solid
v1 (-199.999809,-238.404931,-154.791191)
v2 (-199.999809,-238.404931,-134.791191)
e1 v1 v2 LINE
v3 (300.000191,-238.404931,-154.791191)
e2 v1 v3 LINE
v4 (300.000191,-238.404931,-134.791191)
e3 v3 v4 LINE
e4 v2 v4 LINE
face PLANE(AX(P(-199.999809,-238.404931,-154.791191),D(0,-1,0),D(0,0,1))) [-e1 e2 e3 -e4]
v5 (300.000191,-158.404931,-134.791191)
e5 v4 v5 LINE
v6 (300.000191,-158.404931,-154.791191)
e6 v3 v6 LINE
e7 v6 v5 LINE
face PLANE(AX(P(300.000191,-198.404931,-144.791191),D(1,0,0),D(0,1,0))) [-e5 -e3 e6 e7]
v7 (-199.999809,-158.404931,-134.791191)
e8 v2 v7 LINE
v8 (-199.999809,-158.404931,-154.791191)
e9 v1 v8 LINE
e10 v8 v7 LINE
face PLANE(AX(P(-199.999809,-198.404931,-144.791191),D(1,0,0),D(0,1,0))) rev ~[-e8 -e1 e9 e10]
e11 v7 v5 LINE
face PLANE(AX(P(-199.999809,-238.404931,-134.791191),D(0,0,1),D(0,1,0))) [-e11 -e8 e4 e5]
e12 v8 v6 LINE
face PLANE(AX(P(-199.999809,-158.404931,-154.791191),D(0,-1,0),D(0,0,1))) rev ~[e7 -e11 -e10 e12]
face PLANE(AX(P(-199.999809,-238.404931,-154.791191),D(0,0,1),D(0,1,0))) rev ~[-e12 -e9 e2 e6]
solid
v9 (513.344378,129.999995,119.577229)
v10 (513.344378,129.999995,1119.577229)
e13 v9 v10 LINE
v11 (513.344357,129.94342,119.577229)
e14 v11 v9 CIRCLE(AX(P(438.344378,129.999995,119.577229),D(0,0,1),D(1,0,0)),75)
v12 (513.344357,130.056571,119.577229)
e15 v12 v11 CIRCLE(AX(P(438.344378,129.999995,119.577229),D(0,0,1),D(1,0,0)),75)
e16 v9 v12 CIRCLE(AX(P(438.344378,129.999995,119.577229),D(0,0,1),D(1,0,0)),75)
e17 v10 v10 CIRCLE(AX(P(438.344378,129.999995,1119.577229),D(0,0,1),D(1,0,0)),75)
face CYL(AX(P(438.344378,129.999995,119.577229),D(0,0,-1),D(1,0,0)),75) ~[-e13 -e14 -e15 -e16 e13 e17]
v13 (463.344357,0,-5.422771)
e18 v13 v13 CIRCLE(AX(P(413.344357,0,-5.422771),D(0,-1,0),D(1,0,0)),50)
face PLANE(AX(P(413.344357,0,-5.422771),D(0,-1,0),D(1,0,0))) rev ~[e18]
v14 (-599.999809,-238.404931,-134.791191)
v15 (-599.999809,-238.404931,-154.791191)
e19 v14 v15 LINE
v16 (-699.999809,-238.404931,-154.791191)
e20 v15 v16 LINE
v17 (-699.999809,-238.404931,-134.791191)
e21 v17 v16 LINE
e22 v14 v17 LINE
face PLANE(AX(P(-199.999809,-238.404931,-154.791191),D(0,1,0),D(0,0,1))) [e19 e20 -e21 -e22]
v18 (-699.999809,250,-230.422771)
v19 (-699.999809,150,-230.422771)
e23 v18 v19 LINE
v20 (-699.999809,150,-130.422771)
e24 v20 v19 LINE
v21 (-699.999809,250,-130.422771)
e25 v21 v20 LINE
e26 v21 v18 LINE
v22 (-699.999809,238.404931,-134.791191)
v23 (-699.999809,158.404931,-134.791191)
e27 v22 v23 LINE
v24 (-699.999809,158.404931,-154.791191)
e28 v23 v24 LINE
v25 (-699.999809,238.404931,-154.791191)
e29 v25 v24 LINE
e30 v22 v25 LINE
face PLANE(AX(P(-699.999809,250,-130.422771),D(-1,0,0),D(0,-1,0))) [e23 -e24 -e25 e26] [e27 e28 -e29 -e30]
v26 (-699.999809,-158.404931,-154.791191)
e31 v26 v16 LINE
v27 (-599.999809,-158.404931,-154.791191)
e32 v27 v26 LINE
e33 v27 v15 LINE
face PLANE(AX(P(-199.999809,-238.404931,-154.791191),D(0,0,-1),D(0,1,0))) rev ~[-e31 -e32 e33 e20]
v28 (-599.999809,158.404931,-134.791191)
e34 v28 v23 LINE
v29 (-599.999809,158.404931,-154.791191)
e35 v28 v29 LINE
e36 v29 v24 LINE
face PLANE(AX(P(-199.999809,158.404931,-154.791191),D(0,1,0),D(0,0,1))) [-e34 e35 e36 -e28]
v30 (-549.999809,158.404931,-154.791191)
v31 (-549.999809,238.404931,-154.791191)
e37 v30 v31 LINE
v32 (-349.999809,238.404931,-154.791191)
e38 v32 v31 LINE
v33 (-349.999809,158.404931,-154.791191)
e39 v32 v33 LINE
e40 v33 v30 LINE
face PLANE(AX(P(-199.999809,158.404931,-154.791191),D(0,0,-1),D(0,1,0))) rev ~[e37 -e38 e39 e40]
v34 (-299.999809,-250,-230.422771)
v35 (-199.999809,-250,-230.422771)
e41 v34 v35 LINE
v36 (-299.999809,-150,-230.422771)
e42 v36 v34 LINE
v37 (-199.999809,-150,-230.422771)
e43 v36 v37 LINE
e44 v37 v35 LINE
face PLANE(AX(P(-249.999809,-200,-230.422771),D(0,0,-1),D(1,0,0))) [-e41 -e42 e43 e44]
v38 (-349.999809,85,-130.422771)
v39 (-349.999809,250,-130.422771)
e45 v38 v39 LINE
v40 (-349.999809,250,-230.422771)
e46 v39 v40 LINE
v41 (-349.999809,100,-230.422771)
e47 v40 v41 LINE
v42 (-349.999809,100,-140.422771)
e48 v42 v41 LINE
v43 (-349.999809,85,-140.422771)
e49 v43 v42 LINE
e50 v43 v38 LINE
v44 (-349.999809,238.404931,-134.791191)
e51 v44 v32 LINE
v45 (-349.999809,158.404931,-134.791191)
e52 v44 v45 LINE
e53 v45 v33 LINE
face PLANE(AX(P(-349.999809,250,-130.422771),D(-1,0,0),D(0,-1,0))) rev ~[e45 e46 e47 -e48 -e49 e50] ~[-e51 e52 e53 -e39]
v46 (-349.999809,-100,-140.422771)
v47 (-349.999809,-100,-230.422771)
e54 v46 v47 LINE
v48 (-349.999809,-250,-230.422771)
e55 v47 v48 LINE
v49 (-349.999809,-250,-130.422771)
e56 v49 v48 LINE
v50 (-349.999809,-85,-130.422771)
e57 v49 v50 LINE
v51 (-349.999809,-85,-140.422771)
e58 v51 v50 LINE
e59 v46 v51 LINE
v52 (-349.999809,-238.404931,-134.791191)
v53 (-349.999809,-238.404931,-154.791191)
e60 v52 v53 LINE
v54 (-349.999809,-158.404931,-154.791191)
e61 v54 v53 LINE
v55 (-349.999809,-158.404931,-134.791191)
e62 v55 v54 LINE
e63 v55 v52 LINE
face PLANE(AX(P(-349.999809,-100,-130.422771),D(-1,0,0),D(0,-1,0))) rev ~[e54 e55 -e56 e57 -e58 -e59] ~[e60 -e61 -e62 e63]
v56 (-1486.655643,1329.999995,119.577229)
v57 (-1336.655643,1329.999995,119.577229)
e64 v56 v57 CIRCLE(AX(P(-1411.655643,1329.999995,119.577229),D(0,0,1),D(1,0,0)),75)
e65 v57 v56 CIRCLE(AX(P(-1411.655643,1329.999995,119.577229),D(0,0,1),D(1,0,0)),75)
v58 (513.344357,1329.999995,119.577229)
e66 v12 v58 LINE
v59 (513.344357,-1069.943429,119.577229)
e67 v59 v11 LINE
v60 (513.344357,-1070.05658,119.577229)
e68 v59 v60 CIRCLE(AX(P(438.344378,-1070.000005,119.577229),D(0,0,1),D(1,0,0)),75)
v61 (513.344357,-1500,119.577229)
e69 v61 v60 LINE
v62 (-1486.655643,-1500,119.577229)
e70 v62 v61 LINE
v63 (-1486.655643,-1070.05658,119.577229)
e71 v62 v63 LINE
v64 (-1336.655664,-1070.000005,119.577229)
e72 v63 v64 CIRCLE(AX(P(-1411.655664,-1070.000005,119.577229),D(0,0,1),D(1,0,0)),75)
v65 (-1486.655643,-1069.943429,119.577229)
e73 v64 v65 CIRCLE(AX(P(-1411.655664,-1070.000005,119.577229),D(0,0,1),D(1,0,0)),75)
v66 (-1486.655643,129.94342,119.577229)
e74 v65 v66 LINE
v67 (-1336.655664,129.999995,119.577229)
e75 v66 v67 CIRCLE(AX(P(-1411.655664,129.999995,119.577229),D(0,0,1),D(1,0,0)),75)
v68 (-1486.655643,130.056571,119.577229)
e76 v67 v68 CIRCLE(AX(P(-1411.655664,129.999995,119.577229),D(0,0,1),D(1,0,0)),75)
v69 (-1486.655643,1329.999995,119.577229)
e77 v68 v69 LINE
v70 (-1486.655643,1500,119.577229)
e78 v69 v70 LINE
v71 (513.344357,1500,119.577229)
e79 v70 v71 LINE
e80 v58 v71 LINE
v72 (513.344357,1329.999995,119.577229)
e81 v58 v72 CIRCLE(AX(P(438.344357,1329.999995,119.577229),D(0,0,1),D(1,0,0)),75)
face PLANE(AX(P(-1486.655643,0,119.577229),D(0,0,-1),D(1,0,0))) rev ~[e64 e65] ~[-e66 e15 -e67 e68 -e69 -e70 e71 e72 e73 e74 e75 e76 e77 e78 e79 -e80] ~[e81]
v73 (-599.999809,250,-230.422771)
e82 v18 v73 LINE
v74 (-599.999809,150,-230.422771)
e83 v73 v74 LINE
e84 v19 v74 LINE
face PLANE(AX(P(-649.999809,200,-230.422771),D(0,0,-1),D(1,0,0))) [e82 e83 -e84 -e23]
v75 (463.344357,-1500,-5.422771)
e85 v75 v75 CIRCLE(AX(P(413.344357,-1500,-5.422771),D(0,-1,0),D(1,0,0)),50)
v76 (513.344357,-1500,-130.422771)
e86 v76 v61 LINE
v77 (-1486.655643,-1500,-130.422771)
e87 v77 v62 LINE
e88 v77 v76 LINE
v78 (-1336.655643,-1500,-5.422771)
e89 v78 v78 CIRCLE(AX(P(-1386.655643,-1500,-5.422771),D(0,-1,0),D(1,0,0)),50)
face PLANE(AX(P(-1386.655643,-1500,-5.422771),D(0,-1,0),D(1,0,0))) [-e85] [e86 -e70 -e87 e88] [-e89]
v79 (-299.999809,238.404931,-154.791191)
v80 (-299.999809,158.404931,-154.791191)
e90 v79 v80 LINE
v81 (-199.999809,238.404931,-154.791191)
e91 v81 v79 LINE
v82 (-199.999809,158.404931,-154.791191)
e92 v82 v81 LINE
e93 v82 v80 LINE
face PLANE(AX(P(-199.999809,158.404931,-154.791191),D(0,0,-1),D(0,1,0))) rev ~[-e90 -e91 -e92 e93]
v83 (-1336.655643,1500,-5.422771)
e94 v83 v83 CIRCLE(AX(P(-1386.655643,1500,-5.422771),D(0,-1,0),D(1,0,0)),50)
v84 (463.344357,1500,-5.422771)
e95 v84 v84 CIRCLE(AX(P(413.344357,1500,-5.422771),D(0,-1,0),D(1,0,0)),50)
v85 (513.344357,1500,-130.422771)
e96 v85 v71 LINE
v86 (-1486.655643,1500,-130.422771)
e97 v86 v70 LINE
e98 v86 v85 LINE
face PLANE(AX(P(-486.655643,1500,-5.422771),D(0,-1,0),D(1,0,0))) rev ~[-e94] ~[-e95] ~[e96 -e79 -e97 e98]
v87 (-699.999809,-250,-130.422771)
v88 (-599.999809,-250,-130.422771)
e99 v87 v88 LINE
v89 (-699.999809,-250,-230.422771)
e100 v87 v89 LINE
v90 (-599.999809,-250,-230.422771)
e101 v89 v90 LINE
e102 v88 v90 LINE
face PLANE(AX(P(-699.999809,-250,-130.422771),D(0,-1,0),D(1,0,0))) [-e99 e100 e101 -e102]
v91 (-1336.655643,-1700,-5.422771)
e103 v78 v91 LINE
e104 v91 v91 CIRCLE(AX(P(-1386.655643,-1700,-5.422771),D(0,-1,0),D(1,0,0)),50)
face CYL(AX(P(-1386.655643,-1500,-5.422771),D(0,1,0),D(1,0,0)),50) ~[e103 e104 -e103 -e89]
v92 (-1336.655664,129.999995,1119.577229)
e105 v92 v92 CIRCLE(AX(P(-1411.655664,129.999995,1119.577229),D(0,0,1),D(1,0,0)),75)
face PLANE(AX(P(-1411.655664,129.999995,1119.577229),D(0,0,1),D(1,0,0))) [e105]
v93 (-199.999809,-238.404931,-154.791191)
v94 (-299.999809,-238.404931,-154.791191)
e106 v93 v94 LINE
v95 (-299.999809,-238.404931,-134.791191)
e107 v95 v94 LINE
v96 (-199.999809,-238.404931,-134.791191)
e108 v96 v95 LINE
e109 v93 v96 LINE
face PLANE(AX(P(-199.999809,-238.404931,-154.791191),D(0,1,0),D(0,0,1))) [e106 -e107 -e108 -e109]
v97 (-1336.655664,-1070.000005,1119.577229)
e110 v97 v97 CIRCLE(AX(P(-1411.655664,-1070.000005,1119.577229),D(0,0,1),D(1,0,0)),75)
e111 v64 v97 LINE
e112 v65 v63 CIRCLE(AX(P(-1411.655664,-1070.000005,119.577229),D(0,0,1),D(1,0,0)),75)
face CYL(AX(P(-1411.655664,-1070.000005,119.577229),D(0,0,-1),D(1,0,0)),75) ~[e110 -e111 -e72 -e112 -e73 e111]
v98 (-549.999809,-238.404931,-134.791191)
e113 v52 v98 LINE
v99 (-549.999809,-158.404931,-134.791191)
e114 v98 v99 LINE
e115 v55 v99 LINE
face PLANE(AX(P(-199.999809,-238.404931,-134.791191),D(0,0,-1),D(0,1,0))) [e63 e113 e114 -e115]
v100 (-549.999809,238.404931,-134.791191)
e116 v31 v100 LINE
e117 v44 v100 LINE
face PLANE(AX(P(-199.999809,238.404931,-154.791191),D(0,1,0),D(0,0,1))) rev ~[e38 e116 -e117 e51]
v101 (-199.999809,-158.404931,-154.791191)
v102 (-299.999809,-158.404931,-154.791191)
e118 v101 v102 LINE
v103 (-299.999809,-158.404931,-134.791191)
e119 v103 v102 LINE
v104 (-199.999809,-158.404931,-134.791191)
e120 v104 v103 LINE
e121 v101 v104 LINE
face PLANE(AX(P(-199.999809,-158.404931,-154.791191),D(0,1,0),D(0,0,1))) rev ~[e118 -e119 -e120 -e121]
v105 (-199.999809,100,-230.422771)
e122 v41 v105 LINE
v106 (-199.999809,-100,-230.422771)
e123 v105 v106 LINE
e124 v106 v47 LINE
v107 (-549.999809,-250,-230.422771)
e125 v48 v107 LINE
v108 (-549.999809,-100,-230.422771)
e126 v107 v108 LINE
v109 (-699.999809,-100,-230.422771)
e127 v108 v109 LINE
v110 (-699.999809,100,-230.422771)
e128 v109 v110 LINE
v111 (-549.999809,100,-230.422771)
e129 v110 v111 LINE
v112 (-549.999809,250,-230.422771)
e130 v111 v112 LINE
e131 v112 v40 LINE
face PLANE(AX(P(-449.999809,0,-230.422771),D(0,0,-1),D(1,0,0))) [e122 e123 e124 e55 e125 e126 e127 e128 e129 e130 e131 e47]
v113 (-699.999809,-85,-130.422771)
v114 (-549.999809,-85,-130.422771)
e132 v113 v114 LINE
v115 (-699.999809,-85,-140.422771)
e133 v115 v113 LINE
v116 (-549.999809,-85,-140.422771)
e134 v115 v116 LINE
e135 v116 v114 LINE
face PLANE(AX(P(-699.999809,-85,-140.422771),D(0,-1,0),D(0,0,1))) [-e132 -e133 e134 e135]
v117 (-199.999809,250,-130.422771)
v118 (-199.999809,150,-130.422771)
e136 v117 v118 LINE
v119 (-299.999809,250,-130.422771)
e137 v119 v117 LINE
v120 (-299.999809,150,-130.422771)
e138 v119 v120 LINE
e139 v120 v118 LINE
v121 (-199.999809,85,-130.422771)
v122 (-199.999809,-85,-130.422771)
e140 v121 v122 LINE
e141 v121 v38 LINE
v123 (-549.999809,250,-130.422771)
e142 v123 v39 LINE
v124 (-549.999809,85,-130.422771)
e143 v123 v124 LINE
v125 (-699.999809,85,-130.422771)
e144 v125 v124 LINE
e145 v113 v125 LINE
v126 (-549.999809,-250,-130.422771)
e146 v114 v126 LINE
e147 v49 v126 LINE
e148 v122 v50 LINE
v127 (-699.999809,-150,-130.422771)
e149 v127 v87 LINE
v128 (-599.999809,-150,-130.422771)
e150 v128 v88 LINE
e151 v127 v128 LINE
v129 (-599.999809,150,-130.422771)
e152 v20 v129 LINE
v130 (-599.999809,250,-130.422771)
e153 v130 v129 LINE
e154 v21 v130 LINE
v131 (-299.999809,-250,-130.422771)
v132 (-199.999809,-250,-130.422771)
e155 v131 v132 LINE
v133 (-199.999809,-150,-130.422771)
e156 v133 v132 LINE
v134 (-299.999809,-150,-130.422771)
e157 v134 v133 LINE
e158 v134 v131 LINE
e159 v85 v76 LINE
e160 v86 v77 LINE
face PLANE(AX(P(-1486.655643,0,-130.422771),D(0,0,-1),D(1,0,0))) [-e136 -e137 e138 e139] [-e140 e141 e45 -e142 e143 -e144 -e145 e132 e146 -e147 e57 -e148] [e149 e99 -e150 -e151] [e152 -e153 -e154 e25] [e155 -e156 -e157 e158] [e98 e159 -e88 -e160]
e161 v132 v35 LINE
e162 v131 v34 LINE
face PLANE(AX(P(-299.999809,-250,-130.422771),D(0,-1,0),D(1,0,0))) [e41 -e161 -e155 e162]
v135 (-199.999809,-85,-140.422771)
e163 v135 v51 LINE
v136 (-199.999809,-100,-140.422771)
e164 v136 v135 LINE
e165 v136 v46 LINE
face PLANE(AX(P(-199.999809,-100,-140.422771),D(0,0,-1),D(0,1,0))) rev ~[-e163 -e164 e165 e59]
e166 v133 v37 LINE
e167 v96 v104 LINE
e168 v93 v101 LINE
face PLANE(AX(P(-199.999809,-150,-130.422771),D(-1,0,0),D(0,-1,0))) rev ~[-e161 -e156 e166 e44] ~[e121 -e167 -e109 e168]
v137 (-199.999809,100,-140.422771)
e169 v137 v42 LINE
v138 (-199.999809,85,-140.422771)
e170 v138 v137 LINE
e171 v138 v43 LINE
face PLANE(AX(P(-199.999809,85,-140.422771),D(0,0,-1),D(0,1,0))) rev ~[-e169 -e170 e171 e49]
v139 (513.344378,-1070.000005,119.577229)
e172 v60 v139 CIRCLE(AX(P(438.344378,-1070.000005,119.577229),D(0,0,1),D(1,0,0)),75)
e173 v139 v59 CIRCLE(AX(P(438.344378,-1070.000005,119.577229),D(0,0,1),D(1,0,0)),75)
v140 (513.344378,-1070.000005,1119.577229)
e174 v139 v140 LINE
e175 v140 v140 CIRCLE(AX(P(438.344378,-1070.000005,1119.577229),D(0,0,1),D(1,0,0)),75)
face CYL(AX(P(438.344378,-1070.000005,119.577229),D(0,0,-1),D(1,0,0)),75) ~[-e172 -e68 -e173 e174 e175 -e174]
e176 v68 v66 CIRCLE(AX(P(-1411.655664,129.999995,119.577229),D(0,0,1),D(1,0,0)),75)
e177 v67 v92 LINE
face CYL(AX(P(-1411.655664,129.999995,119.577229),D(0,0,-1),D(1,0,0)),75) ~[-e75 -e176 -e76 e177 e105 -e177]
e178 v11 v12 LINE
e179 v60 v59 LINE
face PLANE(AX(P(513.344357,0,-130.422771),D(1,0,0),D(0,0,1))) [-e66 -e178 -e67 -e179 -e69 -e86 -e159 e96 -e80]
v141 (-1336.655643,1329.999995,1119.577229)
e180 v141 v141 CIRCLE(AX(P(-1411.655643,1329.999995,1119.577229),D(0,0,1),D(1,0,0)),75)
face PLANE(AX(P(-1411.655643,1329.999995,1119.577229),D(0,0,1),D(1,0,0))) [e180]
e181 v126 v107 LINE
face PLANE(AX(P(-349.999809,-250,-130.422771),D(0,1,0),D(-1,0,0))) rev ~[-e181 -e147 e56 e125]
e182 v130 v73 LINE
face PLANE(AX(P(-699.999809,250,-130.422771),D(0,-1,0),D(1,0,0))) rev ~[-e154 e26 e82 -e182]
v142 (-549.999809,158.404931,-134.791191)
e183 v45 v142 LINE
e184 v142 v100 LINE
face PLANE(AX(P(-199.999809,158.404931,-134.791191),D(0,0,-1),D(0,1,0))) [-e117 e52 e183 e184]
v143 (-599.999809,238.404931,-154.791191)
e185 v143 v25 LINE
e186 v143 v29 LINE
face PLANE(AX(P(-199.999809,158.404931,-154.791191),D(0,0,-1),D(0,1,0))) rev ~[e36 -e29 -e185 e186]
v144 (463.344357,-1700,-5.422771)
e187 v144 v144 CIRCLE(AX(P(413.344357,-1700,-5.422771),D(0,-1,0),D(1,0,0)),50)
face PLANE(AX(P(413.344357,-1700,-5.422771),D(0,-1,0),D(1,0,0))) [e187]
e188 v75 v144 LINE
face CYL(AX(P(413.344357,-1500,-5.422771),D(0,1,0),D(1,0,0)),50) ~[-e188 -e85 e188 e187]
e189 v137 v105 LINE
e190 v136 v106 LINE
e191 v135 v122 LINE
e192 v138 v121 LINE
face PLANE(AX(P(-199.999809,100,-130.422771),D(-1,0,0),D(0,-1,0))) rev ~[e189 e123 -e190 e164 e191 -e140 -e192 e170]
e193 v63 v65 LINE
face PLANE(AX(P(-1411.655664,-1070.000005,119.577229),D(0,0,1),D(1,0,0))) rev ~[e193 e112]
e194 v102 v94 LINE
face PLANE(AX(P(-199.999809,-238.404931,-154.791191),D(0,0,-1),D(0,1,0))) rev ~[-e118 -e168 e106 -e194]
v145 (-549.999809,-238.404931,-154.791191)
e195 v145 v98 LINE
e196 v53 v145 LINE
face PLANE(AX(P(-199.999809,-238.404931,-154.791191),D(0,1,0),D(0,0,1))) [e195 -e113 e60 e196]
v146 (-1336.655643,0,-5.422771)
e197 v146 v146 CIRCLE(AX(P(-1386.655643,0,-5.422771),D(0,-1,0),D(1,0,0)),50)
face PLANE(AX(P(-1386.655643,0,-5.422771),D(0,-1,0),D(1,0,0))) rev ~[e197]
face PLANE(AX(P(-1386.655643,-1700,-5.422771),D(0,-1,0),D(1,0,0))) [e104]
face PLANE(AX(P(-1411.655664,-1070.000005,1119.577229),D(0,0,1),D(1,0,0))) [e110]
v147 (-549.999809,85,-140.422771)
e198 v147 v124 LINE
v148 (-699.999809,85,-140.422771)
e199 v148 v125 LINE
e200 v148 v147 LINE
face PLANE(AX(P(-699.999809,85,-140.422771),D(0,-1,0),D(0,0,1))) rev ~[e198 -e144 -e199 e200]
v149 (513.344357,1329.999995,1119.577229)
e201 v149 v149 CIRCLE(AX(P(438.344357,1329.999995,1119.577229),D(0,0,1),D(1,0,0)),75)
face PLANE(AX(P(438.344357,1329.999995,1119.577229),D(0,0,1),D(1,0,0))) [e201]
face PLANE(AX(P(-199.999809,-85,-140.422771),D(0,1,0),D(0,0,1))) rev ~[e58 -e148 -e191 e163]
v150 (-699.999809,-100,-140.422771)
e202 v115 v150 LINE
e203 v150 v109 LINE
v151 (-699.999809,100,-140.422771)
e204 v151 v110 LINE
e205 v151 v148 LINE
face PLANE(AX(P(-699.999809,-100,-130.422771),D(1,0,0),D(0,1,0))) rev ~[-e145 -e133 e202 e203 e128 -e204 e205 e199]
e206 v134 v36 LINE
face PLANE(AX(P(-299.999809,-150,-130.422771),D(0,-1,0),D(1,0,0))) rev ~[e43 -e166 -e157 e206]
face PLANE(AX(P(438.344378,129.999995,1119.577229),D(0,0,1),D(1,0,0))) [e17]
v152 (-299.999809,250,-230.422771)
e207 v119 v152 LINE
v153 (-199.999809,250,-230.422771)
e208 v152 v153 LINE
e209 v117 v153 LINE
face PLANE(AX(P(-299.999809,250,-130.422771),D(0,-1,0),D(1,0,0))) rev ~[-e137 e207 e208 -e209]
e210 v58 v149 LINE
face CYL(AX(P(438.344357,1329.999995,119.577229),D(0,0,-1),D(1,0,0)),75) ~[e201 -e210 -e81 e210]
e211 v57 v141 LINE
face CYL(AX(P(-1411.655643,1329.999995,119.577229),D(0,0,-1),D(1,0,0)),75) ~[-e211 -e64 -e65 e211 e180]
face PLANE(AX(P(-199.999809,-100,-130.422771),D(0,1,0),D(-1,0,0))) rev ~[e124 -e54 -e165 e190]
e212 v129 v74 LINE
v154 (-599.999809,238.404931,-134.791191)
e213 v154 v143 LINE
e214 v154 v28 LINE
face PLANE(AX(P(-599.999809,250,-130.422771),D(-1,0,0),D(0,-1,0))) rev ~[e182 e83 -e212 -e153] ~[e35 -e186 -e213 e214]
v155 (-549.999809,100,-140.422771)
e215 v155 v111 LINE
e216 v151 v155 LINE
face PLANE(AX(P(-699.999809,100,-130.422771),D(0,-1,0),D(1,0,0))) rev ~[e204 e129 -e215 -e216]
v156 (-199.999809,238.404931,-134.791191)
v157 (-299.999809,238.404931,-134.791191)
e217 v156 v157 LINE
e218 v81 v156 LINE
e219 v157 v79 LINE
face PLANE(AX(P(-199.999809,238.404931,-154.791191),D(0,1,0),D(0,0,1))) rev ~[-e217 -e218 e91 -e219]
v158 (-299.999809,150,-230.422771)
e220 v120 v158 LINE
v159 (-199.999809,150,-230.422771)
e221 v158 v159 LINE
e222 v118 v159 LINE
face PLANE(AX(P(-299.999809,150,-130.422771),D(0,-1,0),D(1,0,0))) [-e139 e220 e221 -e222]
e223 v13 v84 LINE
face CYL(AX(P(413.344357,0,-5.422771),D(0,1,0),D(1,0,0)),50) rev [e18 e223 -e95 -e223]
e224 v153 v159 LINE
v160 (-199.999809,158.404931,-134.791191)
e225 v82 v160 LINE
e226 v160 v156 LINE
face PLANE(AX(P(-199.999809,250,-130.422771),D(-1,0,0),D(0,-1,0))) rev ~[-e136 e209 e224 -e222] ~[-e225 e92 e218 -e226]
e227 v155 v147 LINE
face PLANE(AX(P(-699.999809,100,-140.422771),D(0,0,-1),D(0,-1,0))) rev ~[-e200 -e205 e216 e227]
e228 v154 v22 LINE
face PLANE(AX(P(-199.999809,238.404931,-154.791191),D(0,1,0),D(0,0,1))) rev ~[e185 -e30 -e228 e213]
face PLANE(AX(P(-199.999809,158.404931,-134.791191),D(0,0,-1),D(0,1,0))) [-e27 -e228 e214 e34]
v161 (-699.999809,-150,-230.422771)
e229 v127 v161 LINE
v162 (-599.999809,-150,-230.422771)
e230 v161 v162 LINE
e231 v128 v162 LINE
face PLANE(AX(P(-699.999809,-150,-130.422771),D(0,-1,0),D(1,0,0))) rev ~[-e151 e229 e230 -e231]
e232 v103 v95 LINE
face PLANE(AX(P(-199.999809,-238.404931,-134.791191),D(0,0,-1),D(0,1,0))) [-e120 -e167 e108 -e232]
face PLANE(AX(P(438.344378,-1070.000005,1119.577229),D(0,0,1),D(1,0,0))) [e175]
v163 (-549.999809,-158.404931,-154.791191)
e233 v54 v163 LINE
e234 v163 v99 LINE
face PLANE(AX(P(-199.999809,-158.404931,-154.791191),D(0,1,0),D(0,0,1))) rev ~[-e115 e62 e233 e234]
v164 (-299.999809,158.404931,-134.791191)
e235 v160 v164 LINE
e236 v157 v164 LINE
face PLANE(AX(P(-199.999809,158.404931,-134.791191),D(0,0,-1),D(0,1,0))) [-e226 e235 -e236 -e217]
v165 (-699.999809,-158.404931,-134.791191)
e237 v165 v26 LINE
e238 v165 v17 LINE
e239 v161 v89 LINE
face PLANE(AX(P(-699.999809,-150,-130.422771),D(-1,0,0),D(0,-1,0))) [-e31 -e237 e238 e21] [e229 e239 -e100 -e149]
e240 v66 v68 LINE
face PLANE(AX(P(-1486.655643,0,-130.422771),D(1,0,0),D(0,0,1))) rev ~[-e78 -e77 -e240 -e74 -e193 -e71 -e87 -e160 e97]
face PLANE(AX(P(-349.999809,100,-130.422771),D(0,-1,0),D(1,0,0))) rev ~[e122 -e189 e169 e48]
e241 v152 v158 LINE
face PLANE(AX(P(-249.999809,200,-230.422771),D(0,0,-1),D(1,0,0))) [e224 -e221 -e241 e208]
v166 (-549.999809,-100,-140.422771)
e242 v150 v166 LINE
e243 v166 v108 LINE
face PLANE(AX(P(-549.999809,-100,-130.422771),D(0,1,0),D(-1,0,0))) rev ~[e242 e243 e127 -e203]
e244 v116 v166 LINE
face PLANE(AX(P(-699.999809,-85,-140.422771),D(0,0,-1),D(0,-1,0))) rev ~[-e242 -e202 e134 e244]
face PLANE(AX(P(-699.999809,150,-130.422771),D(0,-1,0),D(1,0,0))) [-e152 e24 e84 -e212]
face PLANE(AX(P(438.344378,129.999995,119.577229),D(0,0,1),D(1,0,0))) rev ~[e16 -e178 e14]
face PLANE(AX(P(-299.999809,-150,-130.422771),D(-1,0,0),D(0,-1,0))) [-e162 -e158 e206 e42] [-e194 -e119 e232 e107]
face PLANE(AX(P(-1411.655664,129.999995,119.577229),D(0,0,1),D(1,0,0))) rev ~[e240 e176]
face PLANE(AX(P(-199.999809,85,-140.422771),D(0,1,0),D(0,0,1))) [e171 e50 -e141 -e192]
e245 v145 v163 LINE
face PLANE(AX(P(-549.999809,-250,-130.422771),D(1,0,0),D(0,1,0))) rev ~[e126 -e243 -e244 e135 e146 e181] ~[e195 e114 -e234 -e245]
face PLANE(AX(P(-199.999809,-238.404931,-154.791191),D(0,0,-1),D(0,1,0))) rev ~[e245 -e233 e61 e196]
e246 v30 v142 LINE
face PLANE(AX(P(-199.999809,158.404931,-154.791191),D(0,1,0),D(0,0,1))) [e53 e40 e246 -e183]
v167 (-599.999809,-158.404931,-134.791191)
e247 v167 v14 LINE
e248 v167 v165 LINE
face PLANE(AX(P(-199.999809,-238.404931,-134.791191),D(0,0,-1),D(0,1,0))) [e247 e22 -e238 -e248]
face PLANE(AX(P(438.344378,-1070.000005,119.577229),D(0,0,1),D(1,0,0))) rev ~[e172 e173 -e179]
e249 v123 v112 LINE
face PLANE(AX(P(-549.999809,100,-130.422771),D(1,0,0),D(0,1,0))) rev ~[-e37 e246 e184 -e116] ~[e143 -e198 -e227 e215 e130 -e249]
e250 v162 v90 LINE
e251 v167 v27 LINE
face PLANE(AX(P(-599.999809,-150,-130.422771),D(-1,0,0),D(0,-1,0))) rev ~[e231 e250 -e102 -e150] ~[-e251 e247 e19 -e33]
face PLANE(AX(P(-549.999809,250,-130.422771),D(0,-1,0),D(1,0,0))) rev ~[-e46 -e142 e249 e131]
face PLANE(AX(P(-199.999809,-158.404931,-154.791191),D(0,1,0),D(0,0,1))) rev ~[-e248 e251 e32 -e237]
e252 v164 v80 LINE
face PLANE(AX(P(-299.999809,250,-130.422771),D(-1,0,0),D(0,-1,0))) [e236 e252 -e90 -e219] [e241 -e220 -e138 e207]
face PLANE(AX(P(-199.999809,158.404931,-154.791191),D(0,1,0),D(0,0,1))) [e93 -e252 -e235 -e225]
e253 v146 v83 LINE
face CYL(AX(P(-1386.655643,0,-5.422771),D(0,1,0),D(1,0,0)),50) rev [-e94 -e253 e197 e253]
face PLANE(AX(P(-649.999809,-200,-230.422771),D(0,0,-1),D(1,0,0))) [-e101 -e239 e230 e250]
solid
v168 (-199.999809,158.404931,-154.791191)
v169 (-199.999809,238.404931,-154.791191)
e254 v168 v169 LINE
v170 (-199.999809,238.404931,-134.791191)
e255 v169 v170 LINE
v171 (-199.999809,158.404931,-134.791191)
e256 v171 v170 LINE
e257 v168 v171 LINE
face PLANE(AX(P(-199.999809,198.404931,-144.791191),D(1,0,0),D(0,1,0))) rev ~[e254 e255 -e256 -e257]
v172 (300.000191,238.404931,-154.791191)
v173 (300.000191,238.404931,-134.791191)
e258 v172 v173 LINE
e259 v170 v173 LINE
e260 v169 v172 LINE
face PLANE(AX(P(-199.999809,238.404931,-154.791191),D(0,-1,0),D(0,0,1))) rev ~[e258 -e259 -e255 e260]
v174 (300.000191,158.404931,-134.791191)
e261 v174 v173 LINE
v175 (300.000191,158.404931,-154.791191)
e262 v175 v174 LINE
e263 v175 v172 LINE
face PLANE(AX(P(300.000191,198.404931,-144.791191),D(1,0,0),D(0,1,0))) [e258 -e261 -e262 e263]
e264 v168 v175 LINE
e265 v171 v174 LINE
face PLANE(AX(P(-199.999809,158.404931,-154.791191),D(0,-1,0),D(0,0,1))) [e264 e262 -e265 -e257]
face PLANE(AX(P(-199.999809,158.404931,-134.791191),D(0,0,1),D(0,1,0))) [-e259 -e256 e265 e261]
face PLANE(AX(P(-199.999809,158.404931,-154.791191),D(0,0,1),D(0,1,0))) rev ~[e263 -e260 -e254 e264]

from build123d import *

# Parameters (mm, degrees)
F0_W           = 2000
F0_H           = 250
F0_R           = 50
F1_DEPTH       = 1500
F2_W           = 100
F2_H           = 100
F3_DEPTH       = 100
F4_W           = 80
F4_H           = 20
F5_DEPTH       = 657
F6_W           = 15
F6_H           = 10
F7_DEPTH       = 150
F8_W           = 15
F8_H           = 10
F9_DEPTH       = 150
F10_R          = 50
F11_DEPTH      = 1500
F11_DEPTH_BACK = 200
F12_R          = 75
F13_DEPTH      = 1000
F14_DEPTH      = 500


with BuildPart() as f1:
    # F0 (on Front) → F1 (new body, symmetric)
    with BuildSketch(Plane.XZ):
        with Locations((-486.6556431055, -5.4227706958)):
            Rectangle(F0_W, F0_H)
        with Locations((-1386.6556431055, -5.4227706958)):
            Circle(F0_R, mode=Mode.SUBTRACT)
        with Locations((413.3443568945, -5.4227706958)):
            Circle(F0_R, mode=Mode.SUBTRACT)
    extrude(amount=F1_DEPTH, both=True)

    # F2 (on face) → F3 (join)
    with BuildSketch(Plane(origin=(0, 0, -130.4227706958), x_dir=(1, 0, 0), z_dir=(0, 0, -1))):
        Polygon((-349.9998092651, 100), (-349.9998092651, 250), (-549.9998092651, 250), (-549.9998092651, 100), (-699.9998092651, 100), (-699.9998092651, -100), (-549.9998092651, -100), (-549.9998092651, -250), (-349.9998092651, -250), (-349.9998092651, -100), (-199.9998092651, -100), (-199.9998092651, 100), align=None)
        with Locations((-649.9998092651, 200)):
            Rectangle(F2_W, F2_H)
        with Locations((-249.9998092651, 200)):
            Rectangle(F2_W, F2_H)
        with Locations((-249.9998092651, -200)):
            Rectangle(F2_W, F2_H)
        with Locations((-649.9998092651, -200)):
            Rectangle(F2_W, F2_H)
    extrude(amount=F3_DEPTH)

    # F4 (on face) → F5 (cut)
    with BuildSketch(Plane.YZ.offset(-199.9998092651)):
        with Locations((198.404931426, -144.7911912203)):
            Rectangle(F4_W, F4_H)
        with Locations((-198.404931426, -144.7911912203)):
            Rectangle(F4_W, F4_H)
    extrude(amount=-F5_DEPTH, mode=Mode.SUBTRACT)

    # F6 (on face) → F7 (cut)
    with BuildSketch(Plane.YZ.offset(-199.9998092651)):
        with Locations((-92.5, -135.4227706958)):
            Rectangle(F6_W, F6_H)
        with Locations((92.5, -135.4227706958)):
            Rectangle(F6_W, F6_H)
    extrude(amount=-F7_DEPTH, mode=Mode.SUBTRACT)

    # F8 (on face) → F9 (cut)
    with BuildSketch(Plane(origin=(-699.9998092651, 0, 0), x_dir=(0, -1, 0), z_dir=(-1, 0, 0))):
        with Locations((92.5, -135.4227706958)):
            Rectangle(F8_W, F8_H)
        with Locations((-92.5, -135.4227706958)):
            Rectangle(F8_W, F8_H)
    extrude(amount=-F9_DEPTH, mode=Mode.SUBTRACT)

    # F10 (on face) → F11 (join, two sides)
    with BuildSketch(Plane.XZ.offset(1500)) as f11_sk:
        with Locations((-1386.6556431055, -5.4227706958)):
            Circle(F10_R)
        with Locations((413.3443568945, -5.4227706958)):
            Circle(F10_R)
    extrude(amount=-F11_DEPTH)
    extrude(f11_sk.sketch, amount=F11_DEPTH_BACK)

    # F12 (on face) → F13 (join)
    with BuildSketch(Plane.XY.offset(119.5772293042)):
        with Locations((-1411.6556431055, 1329.9999952316)):
            Circle(F12_R)
        with Locations((-1411.655664444, -1070.0000047684)):
            Circle(F12_R)
        with Locations((-1411.655664444, 129.9999952316)):
            Circle(F12_R)
        with Locations((438.3443568945, 1329.9999952316)):
            Circle(F12_R)
        with Locations((438.344378233, 129.9999952316)):
            Circle(F12_R)
        with Locations((438.344378233, -1070.0000047684)):
            Circle(F12_R)
    extrude(amount=F13_DEPTH)

    # F4 (on face) → F14 (join)
    with BuildSketch(Plane.YZ.offset(-199.9998092651)):
        with Locations((-198.404931426, -144.7911912203)):
            Rectangle(F4_W, F4_H)
        with Locations((198.404931426, -144.7911912203)):
            Rectangle(F4_W, F4_H)
    extrude(amount=F14_DEPTH)


solid = f1.part
